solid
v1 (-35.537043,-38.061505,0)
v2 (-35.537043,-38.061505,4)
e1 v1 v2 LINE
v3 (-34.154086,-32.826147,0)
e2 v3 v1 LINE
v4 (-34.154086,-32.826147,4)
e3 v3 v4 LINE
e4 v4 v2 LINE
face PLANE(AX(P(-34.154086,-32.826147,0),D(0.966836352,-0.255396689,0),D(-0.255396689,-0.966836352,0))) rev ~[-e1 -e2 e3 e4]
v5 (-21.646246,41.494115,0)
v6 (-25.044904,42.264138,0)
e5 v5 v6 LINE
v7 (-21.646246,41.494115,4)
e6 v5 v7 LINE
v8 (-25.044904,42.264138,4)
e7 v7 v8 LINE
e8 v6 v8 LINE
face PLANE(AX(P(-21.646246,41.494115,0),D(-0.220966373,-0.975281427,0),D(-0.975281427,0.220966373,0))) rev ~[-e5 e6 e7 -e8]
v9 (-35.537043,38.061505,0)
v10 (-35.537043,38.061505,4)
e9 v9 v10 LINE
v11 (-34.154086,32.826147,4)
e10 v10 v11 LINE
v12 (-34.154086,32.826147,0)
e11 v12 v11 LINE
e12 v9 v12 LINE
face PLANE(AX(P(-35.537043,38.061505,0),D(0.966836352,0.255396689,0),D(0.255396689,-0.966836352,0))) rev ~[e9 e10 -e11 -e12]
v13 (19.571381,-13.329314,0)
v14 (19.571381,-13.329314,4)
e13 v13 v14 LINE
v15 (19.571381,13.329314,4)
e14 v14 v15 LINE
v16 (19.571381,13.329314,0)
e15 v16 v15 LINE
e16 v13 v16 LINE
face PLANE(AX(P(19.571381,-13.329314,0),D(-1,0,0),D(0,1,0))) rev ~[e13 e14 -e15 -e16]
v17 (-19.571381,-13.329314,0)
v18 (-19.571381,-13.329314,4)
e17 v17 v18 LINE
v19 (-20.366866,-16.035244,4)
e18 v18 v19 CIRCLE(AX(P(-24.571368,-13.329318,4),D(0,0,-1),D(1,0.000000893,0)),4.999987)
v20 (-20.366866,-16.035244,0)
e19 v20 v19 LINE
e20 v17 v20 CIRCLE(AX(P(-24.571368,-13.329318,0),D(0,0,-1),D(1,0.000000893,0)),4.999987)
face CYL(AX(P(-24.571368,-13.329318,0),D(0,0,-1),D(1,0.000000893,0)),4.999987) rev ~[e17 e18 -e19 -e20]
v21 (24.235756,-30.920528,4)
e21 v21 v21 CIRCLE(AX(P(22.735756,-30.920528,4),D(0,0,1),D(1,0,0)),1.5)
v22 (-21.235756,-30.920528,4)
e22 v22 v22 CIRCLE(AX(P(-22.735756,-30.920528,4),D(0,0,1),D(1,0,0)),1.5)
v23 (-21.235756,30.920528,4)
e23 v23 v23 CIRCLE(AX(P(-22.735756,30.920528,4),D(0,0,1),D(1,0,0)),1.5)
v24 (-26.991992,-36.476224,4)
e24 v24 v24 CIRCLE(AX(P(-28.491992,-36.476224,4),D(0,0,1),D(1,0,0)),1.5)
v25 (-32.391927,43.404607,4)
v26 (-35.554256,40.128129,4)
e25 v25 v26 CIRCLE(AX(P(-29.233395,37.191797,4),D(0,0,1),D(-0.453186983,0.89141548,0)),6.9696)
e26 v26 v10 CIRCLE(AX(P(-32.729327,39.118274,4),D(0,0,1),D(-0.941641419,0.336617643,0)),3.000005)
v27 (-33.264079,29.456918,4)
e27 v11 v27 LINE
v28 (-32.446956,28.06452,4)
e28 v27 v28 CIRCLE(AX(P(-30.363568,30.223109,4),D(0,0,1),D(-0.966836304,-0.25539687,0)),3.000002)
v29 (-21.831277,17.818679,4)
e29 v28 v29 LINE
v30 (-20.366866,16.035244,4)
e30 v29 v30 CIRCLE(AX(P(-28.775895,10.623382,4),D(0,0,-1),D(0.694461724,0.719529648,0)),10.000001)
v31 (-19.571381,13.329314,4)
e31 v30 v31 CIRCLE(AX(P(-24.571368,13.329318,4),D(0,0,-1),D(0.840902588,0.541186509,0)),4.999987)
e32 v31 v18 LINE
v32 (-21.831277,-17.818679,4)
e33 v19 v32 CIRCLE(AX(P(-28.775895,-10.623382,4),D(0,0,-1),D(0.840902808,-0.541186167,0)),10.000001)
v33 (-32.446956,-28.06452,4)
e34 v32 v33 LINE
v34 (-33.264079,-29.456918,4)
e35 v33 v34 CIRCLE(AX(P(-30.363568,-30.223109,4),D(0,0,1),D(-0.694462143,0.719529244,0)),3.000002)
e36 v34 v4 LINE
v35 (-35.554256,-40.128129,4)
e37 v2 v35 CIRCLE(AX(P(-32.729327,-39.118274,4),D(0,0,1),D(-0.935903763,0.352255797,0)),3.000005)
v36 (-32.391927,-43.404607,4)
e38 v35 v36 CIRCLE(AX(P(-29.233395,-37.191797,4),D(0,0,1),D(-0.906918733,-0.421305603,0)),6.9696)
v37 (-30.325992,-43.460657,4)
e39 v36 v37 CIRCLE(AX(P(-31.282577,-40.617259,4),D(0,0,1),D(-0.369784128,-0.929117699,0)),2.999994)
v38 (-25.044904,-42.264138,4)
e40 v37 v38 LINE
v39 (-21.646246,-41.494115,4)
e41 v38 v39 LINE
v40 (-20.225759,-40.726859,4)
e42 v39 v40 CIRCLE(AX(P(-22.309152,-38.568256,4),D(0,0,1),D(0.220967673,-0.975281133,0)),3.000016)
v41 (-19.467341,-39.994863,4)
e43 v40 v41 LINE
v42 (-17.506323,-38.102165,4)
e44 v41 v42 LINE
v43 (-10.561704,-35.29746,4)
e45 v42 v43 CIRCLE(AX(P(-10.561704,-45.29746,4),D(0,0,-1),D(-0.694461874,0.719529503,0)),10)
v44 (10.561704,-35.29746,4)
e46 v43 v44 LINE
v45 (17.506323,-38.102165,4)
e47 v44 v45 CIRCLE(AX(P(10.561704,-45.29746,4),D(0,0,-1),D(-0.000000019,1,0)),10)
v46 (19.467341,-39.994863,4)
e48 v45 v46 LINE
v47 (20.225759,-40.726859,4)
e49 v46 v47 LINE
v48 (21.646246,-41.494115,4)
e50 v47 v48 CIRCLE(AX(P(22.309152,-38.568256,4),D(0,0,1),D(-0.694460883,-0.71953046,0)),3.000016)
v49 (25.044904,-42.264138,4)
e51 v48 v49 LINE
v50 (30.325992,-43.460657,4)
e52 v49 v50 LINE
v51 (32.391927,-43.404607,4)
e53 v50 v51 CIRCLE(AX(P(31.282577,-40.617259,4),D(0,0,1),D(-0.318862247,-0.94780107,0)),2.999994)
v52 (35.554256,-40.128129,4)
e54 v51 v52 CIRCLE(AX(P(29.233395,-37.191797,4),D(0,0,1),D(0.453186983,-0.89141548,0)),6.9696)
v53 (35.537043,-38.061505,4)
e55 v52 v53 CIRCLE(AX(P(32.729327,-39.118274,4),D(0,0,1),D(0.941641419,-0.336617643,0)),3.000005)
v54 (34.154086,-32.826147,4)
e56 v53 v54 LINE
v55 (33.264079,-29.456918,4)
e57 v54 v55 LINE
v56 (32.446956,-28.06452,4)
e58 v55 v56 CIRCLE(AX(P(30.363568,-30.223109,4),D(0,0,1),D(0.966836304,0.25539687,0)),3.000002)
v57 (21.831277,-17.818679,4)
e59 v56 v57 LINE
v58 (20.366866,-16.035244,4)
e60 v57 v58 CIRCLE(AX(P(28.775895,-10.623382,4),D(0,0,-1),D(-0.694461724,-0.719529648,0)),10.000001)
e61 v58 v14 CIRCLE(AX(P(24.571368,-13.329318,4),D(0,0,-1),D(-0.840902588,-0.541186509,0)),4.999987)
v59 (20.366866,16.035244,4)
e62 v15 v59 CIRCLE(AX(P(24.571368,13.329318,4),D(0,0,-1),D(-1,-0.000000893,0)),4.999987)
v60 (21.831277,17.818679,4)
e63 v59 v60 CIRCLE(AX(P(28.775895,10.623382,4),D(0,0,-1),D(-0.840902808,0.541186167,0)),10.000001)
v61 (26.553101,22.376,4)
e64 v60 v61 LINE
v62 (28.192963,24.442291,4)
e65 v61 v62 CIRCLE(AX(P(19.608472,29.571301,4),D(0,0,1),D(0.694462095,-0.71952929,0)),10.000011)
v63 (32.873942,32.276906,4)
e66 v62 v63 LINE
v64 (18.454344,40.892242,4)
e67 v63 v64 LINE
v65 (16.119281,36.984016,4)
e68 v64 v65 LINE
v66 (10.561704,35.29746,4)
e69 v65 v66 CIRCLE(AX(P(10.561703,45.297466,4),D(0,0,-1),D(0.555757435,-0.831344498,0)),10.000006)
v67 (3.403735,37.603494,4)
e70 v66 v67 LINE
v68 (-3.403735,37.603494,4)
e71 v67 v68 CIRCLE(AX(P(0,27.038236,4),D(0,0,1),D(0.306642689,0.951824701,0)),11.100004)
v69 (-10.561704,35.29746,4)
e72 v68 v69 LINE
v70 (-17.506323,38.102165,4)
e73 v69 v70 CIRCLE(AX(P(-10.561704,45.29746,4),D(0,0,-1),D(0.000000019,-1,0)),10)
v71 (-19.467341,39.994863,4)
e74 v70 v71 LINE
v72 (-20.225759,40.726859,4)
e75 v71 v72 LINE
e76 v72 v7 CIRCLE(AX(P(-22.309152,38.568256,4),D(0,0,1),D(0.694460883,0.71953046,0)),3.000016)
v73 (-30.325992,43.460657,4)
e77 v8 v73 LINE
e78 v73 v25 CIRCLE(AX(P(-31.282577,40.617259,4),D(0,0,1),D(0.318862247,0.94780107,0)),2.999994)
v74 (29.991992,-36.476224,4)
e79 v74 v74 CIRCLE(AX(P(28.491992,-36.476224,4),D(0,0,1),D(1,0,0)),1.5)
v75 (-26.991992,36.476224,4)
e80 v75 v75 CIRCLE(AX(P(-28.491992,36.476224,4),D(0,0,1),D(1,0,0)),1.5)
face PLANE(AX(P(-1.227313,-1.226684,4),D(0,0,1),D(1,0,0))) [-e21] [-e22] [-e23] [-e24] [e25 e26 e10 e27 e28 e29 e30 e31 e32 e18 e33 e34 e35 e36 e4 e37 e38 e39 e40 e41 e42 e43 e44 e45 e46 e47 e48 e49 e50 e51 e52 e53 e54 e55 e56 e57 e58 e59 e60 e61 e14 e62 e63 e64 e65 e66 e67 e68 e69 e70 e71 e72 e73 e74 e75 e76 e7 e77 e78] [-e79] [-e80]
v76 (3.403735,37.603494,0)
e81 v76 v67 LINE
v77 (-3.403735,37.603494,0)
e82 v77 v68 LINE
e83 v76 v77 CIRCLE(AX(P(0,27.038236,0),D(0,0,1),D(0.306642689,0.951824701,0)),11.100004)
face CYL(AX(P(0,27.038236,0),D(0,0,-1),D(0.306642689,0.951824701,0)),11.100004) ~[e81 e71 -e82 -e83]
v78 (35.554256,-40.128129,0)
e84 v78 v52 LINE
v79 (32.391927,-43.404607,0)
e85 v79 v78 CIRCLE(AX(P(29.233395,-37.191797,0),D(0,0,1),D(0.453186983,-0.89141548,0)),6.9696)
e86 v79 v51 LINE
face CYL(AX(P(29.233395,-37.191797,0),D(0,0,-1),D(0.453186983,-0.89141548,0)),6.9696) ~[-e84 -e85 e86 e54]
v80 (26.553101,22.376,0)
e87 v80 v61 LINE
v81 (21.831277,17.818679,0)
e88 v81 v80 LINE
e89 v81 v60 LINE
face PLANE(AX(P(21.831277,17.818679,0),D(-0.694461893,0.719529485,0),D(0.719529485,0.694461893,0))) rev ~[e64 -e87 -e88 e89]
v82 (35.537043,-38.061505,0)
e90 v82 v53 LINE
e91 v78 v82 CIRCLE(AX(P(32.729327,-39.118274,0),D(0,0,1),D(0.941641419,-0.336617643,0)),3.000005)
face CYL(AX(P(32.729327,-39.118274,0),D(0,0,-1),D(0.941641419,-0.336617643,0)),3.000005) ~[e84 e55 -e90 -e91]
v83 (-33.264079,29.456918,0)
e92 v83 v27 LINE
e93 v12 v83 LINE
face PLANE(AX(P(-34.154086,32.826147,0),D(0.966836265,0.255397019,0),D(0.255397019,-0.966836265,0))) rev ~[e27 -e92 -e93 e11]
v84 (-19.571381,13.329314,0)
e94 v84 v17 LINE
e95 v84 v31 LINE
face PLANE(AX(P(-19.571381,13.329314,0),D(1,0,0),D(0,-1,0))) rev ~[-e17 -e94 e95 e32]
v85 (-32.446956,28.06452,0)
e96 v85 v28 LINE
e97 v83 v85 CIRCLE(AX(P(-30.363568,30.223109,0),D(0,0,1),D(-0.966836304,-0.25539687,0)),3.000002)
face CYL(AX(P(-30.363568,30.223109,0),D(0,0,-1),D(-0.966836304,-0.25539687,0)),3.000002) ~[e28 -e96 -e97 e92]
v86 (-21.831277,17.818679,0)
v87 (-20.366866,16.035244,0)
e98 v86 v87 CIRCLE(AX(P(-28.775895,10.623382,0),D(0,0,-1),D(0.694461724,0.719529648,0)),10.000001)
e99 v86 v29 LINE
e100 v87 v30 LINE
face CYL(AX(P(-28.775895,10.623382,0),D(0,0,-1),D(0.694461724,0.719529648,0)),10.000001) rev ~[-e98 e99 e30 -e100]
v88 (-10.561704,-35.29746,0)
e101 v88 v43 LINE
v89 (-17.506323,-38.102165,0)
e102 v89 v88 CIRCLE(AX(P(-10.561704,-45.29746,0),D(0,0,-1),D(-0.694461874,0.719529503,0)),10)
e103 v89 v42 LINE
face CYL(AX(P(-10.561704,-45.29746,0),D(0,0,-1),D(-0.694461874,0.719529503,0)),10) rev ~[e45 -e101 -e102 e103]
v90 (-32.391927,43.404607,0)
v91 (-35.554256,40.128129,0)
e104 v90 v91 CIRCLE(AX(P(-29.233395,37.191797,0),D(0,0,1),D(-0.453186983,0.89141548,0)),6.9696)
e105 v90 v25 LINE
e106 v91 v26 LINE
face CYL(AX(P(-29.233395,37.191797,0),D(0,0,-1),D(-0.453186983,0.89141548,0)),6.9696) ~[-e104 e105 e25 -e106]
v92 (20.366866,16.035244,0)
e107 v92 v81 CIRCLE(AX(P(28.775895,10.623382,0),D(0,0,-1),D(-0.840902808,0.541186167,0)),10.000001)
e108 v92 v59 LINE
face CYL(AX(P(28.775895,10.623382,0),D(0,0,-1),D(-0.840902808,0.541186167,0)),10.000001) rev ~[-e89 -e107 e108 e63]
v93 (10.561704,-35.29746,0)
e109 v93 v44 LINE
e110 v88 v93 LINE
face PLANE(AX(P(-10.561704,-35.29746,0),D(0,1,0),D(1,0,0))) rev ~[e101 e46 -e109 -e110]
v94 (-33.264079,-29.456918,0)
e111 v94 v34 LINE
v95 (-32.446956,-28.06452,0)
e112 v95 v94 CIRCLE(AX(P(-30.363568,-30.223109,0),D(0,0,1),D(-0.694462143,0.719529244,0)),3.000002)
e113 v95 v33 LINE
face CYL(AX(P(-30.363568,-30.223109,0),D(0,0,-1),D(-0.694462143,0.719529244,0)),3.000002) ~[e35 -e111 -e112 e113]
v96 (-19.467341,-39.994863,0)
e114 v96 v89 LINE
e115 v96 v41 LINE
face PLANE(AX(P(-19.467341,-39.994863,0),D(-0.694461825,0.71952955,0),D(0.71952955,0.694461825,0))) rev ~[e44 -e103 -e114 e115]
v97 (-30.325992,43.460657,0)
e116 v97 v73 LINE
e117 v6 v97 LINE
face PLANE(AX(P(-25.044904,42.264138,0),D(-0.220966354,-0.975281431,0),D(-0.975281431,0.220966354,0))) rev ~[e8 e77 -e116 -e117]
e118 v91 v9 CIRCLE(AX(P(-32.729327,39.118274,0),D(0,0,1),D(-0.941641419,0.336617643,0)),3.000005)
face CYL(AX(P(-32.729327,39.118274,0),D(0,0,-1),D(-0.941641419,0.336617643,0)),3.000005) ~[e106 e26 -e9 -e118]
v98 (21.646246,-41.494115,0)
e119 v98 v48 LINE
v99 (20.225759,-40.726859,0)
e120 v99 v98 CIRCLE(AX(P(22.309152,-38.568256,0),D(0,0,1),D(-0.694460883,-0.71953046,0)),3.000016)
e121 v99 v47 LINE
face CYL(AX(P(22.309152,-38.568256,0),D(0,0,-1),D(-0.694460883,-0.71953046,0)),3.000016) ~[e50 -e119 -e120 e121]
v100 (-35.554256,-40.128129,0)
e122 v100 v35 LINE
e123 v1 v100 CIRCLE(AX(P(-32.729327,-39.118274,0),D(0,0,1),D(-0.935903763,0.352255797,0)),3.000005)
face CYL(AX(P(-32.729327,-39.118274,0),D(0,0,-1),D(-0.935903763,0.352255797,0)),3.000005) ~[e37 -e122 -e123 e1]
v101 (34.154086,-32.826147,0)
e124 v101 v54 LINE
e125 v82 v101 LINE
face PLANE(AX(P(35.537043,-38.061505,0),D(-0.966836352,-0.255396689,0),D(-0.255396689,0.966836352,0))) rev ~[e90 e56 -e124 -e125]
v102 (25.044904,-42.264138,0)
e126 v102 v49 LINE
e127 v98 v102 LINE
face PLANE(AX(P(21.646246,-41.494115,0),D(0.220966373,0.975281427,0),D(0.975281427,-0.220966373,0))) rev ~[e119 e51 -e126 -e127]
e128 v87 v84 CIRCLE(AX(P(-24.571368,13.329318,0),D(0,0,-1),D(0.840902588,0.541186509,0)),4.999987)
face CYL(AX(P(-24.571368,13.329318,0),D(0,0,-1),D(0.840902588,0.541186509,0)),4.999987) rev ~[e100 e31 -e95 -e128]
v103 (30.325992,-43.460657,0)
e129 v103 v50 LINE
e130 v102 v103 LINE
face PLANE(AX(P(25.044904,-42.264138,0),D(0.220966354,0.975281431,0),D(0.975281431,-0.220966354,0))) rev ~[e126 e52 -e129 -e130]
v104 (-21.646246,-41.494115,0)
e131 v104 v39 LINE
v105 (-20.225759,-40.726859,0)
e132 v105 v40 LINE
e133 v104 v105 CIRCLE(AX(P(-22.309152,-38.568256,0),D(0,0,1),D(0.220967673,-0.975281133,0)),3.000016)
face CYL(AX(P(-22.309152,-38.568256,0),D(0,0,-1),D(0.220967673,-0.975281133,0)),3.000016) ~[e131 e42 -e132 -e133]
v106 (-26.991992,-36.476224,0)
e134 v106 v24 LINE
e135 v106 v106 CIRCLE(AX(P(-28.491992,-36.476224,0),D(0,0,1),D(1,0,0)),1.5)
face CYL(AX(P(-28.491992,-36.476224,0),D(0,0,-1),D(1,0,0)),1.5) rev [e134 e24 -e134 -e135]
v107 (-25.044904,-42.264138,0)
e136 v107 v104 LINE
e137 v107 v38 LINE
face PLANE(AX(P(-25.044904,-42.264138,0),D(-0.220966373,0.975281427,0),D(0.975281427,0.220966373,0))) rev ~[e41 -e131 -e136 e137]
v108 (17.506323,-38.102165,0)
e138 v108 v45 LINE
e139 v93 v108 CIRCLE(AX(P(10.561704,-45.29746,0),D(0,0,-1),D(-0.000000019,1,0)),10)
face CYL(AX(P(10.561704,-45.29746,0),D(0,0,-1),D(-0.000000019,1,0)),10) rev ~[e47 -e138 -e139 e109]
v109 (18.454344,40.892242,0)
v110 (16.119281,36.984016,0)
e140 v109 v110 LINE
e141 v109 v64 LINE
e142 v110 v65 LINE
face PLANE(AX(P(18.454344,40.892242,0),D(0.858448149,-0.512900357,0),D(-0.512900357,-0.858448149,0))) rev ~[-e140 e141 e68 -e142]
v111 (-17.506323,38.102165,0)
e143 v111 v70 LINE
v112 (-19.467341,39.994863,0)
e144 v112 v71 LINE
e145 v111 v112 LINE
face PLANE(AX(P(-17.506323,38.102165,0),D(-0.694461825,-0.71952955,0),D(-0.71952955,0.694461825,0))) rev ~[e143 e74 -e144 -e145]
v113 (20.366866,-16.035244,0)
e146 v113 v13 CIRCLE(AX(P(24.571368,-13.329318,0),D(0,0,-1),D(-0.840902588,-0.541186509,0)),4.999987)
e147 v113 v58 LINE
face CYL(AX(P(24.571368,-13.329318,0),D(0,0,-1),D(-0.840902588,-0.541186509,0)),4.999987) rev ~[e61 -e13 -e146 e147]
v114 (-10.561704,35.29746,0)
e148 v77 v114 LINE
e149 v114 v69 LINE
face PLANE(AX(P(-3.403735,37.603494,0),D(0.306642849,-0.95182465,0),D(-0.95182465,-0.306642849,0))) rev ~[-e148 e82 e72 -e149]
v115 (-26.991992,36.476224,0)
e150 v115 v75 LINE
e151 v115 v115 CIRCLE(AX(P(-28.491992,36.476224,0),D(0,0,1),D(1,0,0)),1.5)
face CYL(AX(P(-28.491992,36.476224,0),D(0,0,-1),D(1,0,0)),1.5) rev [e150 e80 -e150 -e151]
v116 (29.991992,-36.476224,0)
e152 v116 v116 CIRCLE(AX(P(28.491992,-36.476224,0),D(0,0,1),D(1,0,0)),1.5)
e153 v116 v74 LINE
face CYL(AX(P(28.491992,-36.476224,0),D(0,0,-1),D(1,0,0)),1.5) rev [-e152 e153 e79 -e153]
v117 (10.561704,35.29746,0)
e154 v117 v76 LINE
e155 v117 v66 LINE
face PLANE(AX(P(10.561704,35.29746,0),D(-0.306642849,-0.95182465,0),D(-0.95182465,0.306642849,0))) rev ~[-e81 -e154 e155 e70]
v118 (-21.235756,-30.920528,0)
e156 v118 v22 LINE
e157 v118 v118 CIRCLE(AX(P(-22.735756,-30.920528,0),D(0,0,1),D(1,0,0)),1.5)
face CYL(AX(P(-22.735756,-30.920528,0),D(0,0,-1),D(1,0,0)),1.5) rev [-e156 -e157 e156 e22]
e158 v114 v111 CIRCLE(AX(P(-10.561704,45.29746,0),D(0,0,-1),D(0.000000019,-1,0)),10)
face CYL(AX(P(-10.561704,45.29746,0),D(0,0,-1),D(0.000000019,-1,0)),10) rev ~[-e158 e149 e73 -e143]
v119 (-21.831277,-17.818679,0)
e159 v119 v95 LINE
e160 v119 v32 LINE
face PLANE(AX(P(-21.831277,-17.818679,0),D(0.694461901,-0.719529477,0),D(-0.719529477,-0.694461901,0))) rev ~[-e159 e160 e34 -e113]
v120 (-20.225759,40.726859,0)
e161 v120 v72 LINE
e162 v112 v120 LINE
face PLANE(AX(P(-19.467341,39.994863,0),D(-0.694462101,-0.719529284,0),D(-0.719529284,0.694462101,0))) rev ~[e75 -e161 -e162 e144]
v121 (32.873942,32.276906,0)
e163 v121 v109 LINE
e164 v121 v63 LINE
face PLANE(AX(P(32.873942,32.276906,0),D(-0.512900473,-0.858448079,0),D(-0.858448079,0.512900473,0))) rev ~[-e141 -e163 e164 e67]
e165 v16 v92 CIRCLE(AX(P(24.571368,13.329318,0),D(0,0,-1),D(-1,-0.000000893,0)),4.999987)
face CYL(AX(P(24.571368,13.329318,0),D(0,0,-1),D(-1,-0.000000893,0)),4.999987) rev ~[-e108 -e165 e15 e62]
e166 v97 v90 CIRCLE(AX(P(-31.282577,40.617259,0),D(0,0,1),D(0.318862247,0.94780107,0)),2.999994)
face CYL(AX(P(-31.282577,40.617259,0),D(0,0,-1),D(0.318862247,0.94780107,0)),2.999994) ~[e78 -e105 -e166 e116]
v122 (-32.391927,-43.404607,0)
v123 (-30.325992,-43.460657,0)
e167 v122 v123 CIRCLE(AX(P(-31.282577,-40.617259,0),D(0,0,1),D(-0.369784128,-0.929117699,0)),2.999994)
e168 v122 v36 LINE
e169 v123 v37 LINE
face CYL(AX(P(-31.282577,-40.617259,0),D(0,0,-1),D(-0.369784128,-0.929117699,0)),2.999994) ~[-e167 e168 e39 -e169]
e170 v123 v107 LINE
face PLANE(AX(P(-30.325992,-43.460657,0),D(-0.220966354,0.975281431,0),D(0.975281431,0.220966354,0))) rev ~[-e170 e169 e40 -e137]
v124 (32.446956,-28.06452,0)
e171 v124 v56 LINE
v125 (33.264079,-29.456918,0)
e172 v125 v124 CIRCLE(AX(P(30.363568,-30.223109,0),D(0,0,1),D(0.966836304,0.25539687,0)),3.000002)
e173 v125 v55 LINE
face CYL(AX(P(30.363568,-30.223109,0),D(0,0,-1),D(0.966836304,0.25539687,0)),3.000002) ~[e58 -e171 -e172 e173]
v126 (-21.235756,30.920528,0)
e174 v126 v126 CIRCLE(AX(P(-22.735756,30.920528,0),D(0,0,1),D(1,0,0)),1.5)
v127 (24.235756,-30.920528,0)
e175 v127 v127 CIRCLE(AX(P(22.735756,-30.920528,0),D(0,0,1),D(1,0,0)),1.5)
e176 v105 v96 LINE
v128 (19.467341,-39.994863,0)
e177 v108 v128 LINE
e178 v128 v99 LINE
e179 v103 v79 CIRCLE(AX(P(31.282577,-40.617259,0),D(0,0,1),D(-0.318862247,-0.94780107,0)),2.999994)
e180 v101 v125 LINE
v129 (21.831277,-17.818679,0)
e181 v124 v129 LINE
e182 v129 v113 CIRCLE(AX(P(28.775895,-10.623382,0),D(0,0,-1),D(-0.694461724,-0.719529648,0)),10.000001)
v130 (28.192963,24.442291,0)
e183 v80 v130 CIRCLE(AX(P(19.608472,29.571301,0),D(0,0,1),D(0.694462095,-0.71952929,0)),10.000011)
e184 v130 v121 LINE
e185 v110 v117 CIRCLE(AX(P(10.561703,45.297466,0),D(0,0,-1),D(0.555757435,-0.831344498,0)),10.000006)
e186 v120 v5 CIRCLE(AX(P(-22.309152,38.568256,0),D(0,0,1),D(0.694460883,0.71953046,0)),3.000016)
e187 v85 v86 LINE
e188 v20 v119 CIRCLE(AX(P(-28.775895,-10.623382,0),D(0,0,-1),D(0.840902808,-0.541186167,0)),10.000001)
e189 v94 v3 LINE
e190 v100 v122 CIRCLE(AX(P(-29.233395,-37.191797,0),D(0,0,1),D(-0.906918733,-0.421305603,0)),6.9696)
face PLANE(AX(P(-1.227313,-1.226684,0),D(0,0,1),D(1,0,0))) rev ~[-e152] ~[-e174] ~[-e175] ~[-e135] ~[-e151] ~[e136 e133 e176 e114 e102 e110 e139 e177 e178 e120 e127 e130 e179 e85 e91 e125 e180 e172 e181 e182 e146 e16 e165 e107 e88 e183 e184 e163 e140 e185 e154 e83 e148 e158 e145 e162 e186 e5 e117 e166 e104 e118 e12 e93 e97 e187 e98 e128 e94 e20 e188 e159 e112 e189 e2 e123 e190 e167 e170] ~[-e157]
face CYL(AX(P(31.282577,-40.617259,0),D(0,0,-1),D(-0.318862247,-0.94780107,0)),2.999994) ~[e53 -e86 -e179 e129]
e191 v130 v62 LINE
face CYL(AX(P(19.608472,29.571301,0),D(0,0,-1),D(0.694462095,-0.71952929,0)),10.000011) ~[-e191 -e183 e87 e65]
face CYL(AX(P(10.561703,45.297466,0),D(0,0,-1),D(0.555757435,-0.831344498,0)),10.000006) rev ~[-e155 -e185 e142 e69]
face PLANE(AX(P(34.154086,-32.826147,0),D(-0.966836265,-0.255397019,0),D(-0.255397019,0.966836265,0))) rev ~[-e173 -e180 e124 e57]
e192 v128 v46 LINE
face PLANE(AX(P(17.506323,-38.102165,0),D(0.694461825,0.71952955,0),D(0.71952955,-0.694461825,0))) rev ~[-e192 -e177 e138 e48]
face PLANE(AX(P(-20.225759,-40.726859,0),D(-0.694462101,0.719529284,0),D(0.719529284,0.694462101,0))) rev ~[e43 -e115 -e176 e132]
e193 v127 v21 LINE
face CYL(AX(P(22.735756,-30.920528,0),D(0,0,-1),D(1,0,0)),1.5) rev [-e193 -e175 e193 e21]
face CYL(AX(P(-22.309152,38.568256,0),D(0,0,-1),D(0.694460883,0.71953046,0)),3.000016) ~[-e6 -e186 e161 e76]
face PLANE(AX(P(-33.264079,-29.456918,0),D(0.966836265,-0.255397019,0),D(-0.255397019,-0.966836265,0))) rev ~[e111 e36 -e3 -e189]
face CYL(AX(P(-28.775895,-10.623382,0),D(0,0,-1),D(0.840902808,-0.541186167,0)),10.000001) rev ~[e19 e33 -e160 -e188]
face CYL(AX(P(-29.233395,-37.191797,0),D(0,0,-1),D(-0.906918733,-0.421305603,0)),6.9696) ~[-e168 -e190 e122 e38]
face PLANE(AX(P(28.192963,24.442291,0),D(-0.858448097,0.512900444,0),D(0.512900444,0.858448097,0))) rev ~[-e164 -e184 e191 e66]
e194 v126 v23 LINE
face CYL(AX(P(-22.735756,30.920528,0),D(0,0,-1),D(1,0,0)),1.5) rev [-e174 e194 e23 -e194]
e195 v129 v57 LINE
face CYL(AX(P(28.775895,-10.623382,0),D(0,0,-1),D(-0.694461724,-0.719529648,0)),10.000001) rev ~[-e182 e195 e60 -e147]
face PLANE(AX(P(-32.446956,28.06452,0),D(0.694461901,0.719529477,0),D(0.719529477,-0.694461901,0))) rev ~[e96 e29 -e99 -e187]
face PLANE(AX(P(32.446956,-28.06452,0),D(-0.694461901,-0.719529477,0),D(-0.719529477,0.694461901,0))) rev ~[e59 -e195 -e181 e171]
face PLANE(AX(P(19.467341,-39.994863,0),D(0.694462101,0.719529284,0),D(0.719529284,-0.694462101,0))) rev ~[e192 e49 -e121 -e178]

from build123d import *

# Parameters (mm, degrees)
F0_R     = 1.5
F1_DEPTH = 4


with BuildPart() as f1:
    # F0 (on Top) → F1 (new body)
    with BuildSketch(Plane.XY):
        with BuildLine():
            ThreePointArc((20.225759, -40.726859), (20.88342, -41.207836), (21.646246, -41.494115))
            Line((21.646246, -41.494115), (25.044904, -42.264138))
            Line((25.044904, -42.264138), (30.325992, -43.460657))
            ThreePointArc((30.325992, -43.460657), (31.363938, -43.61615), (32.391927, -43.404607))
            ThreePointArc((32.391927, -43.404607), (34.248228, -42.031919), (35.554256, -40.128129))
            ThreePointArc((35.554256, -40.128129), (35.729228, -39.093288), (35.537043, -38.061505))
            Line((35.537043, -38.061505), (34.154086, -32.826147))
            Line((34.154086, -32.826147), (33.264079, -29.456918))
            ThreePointArc((33.264079, -29.456918), (32.950942, -28.704719), (32.446956, -28.06452))
            Line((32.446956, -28.06452), (21.831277, -17.818679))
            ThreePointArc((21.831277, -17.818679), (21.047455, -16.969344), (20.366866, -16.035244))
            ThreePointArc((20.366866, -16.035244), (19.774372, -14.739531), (19.571381, -13.329314))
            Line((19.571381, -13.329314), (19.571381, 13.329314))
            ThreePointArc((19.571381, 13.329314), (19.774372, 14.739531), (20.366866, 16.035244))
            ThreePointArc((20.366866, 16.035244), (21.047455, 16.969344), (21.831277, 17.818679))
            Line((21.831277, 17.818679), (26.553101, 22.376))
            ThreePointArc((26.553101, 22.376), (27.441465, 23.354835), (28.192963, 24.442291))
            Line((28.192963, 24.442291), (32.873942, 32.276906))
            Line((32.873942, 32.276906), (18.454344, 40.892242))
            Line((18.454344, 40.892242), (16.119281, 36.984016))
            ThreePointArc((16.119281, 36.984016), (13.46563, 35.728384), (10.561704, 35.29746))
            Line((10.561704, 35.29746), (3.403735, 37.603494))
            ThreePointArc((3.403735, 37.603494), (0, 38.13824), (-3.403735, 37.603494))
            Line((-3.403735, 37.603494), (-10.561704, 35.29746))
            ThreePointArc((-10.561704, 35.29746), (-14.306504, 36.02511), (-17.506323, 38.102165))
            Line((-17.506323, 38.102165), (-19.467341, 39.994863))
            Line((-19.467341, 39.994863), (-20.225759, 40.726859))
            ThreePointArc((-20.225759, 40.726859), (-20.88342, 41.207836), (-21.646246, 41.494115))
            Line((-21.646246, 41.494115), (-25.044904, 42.264138))
            Line((-25.044904, 42.264138), (-30.325992, 43.460657))
            ThreePointArc((-30.325992, 43.460657), (-31.363938, 43.61615), (-32.391927, 43.404607))
            ThreePointArc((-32.391927, 43.404607), (-34.248228, 42.031919), (-35.554256, 40.128129))
            ThreePointArc((-35.554256, 40.128129), (-35.729228, 39.093288), (-35.537043, 38.061505))
            Line((-35.537043, 38.061505), (-34.154086, 32.826147))
            Line((-34.154086, 32.826147), (-33.264079, 29.456918))
            ThreePointArc((-33.264079, 29.456918), (-32.950942, 28.704719), (-32.446956, 28.06452))
            Line((-32.446956, 28.06452), (-21.831277, 17.818679))
            ThreePointArc((-21.831277, 17.818679), (-21.047455, 16.969344), (-20.366866, 16.035244))
            ThreePointArc((-20.366866, 16.035244), (-19.774372, 14.739531), (-19.571381, 13.329314))
            Line((-19.571381, 13.329314), (-19.571381, -13.329314))
            ThreePointArc((-19.571381, -13.329314), (-19.774372, -14.739531), (-20.366866, -16.035244))
            ThreePointArc((-20.366866, -16.035244), (-21.047455, -16.969344), (-21.831277, -17.818679))
            Line((-21.831277, -17.818679), (-32.446956, -28.06452))
            ThreePointArc((-32.446956, -28.06452), (-32.950942, -28.704719), (-33.264079, -29.456918))
            Line((-33.264079, -29.456918), (-34.154086, -32.826147))
            Line((-34.154086, -32.826147), (-35.537043, -38.061505))
            ThreePointArc((-35.537043, -38.061505), (-35.729228, -39.093288), (-35.554256, -40.128129))
            ThreePointArc((-35.554256, -40.128129), (-34.248228, -42.031919), (-32.391927, -43.404607))
            ThreePointArc((-32.391927, -43.404607), (-31.363938, -43.61615), (-30.325992, -43.460657))
            Line((-30.325992, -43.460657), (-25.044904, -42.264138))
            Line((-25.044904, -42.264138), (-21.646246, -41.494115))
            ThreePointArc((-21.646246, -41.494115), (-20.88342, -41.207836), (-20.225759, -40.726859))
            Line((-20.225759, -40.726859), (-19.467341, -39.994863))
            Line((-19.467341, -39.994863), (-17.506323, -38.102165))
            ThreePointArc((-17.506323, -38.102165), (-14.306504, -36.02511), (-10.561704, -35.29746))
            Line((-10.561704, -35.29746), (10.561704, -35.29746))
            ThreePointArc((10.561704, -35.29746), (14.306504, -36.02511), (17.506323, -38.102165))
            Line((17.506323, -38.102165), (19.467341, -39.994863))
            Line((19.467341, -39.994863), (20.225759, -40.726859))
        make_face()
        with Locations((-28.491992, -36.476224)):
            Circle(F0_R, mode=Mode.SUBTRACT)
        with Locations((-22.735756, -30.920528)):
            Circle(F0_R, mode=Mode.SUBTRACT)
        with Locations((28.491992, -36.476224)):
            Circle(F0_R, mode=Mode.SUBTRACT)
        with Locations((22.735756, -30.920528)):
            Circle(F0_R, mode=Mode.SUBTRACT)
        with Locations((-22.735756, 30.920528)):
            Circle(F0_R, mode=Mode.SUBTRACT)
        with Locations((-28.491992, 36.476224)):
            Circle(F0_R, mode=Mode.SUBTRACT)
    extrude(amount=F1_DEPTH)


solid = f1.part
